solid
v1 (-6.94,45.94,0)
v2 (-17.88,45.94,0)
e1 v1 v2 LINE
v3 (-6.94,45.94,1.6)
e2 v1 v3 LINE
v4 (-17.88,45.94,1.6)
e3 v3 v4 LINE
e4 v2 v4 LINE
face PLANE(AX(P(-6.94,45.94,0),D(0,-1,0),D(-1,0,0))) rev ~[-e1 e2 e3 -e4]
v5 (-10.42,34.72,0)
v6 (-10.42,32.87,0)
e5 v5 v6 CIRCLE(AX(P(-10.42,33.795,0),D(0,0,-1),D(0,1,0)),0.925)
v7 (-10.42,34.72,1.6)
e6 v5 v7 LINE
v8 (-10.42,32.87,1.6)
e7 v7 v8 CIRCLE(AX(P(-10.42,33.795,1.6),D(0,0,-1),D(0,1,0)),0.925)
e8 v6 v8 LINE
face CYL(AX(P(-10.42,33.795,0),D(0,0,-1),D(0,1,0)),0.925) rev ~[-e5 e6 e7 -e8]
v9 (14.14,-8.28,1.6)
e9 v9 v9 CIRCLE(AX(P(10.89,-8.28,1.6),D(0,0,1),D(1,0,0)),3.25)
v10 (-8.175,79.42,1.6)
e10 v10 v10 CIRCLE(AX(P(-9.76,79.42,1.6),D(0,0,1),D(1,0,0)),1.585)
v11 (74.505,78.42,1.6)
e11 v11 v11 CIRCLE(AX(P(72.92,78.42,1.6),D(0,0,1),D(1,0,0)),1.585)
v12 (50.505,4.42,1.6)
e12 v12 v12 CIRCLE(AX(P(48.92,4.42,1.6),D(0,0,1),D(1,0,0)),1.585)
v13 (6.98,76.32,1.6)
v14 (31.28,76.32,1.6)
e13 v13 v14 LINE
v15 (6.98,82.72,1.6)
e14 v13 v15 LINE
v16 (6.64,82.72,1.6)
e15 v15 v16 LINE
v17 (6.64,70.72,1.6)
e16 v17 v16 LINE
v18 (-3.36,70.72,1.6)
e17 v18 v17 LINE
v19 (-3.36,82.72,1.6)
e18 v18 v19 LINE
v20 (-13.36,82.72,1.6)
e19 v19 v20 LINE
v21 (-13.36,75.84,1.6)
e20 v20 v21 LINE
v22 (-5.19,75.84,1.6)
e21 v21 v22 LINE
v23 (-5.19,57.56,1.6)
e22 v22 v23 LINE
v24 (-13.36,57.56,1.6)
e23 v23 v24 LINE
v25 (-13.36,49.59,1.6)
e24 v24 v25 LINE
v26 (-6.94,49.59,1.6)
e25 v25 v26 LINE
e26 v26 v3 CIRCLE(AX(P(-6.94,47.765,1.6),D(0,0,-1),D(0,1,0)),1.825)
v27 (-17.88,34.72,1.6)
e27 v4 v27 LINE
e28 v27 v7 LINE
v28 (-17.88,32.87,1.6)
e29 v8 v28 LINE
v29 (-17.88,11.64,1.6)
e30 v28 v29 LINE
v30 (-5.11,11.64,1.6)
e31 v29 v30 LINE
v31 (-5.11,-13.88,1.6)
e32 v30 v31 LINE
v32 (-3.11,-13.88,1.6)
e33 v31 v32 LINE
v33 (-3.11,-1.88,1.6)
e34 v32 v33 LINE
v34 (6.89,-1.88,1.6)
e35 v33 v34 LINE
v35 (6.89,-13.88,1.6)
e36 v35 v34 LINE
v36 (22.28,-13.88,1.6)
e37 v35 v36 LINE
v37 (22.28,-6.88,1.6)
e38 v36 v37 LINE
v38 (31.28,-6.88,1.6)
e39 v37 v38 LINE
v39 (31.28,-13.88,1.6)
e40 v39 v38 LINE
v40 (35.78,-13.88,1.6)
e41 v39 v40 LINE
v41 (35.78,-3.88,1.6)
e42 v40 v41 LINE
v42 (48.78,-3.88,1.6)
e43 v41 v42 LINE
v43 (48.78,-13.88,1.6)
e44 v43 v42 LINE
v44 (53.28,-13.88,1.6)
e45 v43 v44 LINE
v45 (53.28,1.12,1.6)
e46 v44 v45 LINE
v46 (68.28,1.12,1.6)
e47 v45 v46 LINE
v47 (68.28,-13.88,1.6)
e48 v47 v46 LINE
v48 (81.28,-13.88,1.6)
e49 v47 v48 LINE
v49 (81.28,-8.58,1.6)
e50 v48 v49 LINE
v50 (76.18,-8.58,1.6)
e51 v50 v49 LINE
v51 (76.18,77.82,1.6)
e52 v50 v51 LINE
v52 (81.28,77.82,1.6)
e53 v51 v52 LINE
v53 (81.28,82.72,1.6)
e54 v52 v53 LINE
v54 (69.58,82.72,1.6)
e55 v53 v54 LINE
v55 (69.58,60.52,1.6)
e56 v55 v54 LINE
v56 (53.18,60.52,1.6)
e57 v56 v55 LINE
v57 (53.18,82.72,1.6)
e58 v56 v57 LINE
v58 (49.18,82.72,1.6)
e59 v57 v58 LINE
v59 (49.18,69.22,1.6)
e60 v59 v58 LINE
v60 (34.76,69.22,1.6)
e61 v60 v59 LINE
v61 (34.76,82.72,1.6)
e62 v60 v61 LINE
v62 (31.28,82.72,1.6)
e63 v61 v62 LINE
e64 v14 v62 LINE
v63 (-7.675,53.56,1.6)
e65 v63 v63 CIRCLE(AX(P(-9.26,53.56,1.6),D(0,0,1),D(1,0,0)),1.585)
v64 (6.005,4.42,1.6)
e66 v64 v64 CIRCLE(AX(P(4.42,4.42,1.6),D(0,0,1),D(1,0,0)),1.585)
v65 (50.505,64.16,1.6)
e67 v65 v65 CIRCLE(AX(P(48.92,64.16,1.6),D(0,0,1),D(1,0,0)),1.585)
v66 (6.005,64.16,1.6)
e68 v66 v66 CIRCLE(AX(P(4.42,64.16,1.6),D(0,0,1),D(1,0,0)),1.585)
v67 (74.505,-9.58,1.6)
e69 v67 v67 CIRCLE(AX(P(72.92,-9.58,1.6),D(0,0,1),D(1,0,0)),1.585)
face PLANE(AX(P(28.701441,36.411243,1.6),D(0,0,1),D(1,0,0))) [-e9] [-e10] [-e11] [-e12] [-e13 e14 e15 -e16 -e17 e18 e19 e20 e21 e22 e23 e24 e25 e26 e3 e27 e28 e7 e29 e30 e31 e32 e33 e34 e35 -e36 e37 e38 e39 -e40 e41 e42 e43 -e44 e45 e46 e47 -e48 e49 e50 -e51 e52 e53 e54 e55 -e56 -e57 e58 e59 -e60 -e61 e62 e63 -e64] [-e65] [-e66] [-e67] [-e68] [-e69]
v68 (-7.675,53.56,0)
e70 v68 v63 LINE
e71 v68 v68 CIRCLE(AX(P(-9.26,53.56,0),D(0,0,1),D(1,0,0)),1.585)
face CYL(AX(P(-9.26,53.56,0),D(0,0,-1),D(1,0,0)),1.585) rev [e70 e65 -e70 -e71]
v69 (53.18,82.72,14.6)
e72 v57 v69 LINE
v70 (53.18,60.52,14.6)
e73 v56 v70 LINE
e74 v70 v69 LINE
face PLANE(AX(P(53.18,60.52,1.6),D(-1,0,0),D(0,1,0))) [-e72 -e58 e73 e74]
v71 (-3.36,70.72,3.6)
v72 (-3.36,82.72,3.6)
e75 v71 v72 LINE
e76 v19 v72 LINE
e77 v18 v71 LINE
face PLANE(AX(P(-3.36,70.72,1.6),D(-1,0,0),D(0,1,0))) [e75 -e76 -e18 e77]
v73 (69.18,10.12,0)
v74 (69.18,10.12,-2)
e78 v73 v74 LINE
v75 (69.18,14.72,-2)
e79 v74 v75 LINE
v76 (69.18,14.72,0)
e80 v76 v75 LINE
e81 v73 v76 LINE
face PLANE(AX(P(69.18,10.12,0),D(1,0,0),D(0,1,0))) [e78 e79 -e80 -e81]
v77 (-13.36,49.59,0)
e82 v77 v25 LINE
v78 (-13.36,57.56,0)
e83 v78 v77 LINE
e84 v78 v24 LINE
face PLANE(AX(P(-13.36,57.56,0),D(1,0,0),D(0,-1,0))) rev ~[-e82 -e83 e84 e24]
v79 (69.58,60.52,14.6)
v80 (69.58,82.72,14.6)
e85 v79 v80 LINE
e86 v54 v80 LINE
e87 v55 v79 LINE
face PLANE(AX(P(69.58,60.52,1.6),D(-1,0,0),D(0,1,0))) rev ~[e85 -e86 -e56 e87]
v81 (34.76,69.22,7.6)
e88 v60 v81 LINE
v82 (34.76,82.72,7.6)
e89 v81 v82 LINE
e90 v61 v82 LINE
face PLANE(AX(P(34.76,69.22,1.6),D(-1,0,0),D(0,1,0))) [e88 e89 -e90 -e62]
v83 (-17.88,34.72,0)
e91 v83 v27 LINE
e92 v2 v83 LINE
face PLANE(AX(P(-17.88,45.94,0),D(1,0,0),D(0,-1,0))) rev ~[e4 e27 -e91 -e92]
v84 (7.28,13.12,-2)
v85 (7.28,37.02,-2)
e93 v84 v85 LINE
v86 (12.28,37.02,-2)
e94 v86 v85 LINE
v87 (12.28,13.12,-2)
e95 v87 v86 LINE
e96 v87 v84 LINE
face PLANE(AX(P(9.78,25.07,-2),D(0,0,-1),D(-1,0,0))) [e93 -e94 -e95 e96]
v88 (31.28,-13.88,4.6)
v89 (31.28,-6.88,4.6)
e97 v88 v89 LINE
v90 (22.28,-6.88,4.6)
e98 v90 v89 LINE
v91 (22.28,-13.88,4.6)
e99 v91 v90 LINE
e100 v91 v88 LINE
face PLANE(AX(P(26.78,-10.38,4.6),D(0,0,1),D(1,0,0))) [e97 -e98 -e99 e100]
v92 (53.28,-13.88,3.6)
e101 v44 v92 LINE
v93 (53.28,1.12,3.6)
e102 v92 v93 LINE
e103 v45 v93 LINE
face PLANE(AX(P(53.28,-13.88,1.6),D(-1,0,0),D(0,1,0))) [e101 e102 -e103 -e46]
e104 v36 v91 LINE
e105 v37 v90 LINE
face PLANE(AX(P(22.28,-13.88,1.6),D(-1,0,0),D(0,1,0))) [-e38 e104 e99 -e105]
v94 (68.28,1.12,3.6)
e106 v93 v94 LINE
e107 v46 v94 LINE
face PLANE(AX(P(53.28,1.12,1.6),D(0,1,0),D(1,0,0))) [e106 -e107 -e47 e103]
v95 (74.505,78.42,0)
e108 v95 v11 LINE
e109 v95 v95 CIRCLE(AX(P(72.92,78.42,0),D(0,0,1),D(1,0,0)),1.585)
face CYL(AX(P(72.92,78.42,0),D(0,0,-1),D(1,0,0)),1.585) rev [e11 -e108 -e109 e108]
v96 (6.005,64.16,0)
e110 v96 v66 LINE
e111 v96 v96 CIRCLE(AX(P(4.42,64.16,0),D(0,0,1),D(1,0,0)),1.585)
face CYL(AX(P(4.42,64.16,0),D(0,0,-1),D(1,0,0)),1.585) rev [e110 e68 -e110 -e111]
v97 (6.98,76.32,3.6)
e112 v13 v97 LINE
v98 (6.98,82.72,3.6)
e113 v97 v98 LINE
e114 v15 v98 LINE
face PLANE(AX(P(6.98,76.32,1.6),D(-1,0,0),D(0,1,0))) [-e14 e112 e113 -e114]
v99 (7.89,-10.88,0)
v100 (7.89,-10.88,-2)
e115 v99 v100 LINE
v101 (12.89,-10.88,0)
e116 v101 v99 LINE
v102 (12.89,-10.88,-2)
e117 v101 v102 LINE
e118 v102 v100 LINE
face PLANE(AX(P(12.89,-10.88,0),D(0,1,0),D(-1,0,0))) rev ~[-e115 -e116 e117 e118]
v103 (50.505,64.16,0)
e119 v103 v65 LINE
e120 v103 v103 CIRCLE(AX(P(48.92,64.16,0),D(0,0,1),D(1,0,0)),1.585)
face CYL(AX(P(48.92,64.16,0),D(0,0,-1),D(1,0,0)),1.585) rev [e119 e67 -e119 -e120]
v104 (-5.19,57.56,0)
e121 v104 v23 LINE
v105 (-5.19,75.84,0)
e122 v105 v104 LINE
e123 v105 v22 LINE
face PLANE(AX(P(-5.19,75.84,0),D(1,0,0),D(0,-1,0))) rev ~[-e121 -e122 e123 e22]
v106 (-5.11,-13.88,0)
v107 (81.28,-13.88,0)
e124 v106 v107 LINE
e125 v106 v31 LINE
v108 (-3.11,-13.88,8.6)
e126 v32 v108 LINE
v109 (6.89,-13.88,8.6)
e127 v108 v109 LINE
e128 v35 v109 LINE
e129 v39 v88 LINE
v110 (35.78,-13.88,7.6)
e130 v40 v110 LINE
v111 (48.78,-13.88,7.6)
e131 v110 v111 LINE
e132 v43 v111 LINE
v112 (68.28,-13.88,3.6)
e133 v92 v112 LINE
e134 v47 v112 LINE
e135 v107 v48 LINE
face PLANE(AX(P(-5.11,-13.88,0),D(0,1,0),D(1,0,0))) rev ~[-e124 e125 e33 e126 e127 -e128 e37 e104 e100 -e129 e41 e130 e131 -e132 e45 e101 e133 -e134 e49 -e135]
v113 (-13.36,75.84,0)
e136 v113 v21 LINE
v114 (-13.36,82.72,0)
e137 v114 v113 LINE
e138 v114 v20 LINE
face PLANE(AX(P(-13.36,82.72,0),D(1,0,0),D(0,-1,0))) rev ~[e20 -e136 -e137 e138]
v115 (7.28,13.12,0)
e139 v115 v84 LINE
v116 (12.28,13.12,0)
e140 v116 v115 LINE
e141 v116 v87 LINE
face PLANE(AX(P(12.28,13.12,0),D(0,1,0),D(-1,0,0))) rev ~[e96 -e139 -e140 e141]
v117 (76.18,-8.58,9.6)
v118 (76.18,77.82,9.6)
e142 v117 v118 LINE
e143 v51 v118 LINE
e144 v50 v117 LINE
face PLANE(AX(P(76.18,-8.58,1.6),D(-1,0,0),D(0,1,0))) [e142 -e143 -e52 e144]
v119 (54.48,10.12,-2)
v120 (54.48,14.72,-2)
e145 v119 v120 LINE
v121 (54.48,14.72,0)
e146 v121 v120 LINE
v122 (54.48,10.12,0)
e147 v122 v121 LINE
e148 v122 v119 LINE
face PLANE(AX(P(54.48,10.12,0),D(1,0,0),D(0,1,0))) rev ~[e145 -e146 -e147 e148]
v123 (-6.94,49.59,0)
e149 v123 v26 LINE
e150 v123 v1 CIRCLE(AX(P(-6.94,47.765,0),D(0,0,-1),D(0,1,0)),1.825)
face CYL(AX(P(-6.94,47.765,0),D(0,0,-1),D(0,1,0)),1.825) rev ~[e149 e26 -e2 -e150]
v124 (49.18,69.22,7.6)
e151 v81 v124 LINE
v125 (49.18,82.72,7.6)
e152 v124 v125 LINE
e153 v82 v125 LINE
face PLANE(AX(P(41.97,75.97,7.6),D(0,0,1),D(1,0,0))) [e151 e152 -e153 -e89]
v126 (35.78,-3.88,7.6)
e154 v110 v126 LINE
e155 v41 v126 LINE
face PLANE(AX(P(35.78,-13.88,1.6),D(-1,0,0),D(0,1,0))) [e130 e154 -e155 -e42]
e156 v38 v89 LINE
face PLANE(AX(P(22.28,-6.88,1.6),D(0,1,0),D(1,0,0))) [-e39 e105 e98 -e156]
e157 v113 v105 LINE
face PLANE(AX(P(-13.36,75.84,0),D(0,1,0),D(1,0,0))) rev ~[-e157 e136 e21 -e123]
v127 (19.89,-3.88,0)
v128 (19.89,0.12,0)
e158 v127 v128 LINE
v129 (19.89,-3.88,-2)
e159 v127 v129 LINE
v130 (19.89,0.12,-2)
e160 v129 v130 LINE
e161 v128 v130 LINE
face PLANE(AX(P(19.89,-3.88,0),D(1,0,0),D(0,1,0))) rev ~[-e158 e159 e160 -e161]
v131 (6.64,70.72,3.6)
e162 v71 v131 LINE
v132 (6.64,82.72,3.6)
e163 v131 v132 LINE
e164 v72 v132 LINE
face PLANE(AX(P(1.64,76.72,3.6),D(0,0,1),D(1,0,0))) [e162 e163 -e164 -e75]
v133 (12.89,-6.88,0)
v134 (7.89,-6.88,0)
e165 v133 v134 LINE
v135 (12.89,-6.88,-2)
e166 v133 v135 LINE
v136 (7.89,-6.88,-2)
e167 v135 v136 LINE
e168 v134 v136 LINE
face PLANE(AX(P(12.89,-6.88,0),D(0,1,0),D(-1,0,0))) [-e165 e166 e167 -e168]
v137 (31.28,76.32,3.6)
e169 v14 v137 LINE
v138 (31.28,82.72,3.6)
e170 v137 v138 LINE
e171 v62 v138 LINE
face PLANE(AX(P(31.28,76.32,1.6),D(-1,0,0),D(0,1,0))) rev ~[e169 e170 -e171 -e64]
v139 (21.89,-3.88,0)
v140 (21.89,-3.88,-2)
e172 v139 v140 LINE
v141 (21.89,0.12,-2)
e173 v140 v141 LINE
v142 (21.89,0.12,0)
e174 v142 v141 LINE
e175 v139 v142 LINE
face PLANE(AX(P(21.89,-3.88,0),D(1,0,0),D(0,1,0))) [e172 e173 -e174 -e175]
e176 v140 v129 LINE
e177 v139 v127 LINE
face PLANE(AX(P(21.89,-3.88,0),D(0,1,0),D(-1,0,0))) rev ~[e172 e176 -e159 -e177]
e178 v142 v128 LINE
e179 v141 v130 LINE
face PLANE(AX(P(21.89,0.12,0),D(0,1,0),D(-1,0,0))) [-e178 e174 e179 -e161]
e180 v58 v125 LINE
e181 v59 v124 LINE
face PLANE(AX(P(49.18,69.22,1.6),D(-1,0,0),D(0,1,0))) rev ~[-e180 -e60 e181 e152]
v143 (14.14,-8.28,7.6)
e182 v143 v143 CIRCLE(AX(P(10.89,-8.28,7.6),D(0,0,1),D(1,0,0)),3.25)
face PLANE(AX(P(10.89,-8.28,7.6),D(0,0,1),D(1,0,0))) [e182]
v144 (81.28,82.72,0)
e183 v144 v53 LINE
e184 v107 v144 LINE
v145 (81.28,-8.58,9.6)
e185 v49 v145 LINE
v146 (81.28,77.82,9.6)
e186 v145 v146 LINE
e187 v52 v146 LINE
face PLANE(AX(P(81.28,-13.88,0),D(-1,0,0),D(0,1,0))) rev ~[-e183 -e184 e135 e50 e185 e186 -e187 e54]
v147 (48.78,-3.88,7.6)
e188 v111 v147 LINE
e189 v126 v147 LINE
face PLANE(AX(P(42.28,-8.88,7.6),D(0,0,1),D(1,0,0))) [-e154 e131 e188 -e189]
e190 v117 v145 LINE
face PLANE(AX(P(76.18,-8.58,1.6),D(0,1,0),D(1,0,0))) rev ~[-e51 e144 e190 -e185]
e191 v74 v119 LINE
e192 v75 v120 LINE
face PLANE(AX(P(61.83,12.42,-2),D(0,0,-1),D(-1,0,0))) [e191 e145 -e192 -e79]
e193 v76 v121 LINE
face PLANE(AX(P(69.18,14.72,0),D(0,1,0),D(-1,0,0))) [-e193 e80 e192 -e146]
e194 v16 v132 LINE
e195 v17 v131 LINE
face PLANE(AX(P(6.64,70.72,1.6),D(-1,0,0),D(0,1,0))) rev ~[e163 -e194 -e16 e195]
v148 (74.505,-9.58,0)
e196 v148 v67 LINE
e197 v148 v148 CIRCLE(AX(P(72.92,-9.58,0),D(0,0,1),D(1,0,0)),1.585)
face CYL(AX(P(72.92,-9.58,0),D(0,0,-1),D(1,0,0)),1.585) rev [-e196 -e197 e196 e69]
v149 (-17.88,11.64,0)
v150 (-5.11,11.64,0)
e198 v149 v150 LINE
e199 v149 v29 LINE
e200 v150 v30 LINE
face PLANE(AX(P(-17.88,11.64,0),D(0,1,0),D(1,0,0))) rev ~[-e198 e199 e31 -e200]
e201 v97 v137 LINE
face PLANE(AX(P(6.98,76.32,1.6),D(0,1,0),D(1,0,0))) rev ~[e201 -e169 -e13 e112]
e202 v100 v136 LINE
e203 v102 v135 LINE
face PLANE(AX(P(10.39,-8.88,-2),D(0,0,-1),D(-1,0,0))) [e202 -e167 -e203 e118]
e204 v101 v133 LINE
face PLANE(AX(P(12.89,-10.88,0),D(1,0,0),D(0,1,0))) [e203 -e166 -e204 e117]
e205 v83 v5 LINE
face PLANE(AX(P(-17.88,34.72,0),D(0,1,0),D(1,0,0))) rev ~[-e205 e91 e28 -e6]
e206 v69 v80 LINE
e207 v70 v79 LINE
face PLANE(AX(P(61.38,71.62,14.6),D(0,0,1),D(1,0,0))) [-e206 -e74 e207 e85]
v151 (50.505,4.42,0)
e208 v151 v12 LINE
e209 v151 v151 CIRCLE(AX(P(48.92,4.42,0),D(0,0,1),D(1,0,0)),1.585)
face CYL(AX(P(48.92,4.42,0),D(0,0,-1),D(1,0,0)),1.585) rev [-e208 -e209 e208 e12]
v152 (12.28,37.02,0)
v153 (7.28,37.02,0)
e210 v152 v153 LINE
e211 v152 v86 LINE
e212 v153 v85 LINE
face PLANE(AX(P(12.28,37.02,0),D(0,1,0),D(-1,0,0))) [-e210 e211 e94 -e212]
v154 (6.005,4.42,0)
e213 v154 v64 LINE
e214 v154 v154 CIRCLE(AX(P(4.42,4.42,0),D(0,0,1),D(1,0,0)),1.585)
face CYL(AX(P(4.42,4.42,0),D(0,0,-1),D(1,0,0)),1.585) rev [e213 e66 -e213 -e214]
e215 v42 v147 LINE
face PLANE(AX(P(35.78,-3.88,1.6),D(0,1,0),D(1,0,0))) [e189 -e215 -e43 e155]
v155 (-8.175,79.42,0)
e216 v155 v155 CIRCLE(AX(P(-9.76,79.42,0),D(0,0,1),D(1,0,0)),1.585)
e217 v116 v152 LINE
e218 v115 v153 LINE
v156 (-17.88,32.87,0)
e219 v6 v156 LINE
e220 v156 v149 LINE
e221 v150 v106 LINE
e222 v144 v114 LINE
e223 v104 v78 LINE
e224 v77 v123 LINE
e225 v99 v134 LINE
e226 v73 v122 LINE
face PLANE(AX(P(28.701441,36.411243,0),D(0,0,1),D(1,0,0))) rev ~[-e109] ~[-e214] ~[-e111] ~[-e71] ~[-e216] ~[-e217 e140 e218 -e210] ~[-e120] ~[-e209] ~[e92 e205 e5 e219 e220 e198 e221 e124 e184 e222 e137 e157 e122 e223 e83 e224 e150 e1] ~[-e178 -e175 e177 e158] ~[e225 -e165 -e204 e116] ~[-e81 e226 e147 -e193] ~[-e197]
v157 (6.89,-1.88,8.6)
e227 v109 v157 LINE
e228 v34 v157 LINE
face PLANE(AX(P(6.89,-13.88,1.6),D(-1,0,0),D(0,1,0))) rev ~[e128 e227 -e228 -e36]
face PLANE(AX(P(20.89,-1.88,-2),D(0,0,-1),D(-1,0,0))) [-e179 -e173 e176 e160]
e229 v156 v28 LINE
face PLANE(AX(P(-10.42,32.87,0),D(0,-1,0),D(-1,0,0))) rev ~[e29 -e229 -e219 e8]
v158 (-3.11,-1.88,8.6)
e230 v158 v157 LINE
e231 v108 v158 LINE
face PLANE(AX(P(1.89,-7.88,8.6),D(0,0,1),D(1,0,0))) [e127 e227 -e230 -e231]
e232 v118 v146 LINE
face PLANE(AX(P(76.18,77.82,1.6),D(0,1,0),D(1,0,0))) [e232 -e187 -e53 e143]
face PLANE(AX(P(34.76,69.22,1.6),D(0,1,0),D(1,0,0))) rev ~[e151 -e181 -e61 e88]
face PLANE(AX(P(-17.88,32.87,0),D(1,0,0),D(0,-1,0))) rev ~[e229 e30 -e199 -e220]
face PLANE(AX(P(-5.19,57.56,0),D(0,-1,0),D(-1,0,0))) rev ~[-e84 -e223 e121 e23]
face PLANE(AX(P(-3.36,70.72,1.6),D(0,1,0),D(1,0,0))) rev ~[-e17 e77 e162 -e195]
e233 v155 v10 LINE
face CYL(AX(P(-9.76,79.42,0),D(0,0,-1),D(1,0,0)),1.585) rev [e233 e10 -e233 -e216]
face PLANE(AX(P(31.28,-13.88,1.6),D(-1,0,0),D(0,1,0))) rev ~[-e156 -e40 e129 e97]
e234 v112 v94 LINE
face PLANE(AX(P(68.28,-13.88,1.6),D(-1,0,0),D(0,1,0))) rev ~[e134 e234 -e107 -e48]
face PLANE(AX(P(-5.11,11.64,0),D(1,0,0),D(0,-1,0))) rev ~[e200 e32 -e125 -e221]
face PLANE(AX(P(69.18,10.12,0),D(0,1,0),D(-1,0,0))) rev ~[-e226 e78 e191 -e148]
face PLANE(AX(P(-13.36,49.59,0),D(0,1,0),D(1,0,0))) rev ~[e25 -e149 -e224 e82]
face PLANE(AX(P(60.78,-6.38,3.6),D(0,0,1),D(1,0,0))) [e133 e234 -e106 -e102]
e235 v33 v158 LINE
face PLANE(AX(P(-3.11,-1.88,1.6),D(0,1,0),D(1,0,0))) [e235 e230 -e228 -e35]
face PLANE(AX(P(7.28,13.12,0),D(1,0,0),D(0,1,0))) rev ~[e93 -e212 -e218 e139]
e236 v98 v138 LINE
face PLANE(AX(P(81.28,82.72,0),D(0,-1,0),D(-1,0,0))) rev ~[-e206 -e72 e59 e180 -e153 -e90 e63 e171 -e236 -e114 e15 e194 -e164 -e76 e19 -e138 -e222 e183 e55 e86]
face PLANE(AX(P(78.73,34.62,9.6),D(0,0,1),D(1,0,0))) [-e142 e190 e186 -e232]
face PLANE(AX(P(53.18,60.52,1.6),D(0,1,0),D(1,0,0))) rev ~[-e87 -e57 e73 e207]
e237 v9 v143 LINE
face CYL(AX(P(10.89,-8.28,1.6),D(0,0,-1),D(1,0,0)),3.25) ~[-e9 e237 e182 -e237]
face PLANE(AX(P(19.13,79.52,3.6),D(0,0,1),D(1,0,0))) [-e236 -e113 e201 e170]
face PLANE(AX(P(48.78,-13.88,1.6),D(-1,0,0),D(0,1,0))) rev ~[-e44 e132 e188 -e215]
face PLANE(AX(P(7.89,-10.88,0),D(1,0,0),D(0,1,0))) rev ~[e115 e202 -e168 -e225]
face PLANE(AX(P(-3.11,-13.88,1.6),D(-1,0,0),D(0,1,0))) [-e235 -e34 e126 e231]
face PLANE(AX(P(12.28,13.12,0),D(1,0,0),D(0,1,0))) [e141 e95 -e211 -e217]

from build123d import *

# Parameters (mm, degrees)
SKETCH_1_R       = 1.585
EXTRUDE_1_DEPTH  = 1.6
SKETCH_2_W       = 5.1
SKETCH_2_H       = 86.4
EXTRUDE_2_DEPTH  = 8
SKETCH_3_W       = 16.4
SKETCH_3_H       = 22.2
EXTRUDE_3_DEPTH  = 13
SKETCH_4_W       = 14.42
SKETCH_4_H       = 13.5
EXTRUDE_4_DEPTH  = 6
SKETCH_5_W       = 24.3
SKETCH_5_H       = 6.4
EXTRUDE_5_DEPTH  = 2
SKETCH_6_W       = 10
SKETCH_6_H       = 12
EXTRUDE_6_DEPTH  = 2
SKETCH_7_W       = 15
SKETCH_7_H       = 15
EXTRUDE_7_DEPTH  = 2
SKETCH_8_W       = 13
SKETCH_8_H       = 10
EXTRUDE_8_DEPTH  = 6
SKETCH_9_W       = 9
SKETCH_9_H       = 7
EXTRUDE_9_DEPTH  = 3
SKETCH_10_W      = 10
SKETCH_10_H      = 12
EXTRUDE_10_DEPTH = 7
SKETCH_11_R      = 3.25
EXTRUDE_11_DEPTH = 6
SKETCH_12_W      = 14.7
SKETCH_12_H      = 4.6
SKETCH_12_W_2    = 5
SKETCH_12_H_2    = 23.9
EXTRUDE_12_DEPTH = 2
SKETCH_14_W      = 5
SKETCH_14_H      = 4
SKETCH_14_W_2    = 2
EXTRUDE_13_DEPTH = 2


with BuildPart() as part:
    # 草图1 → 凸台-拉伸1 (new body)
    with BuildSketch(Plane.XY):
        with BuildLine():
            Line((81.28, 82.72), (-13.36, 82.72))
            Line((-13.36, 82.72), (-13.36, 75.84))
            Line((-13.36, 75.84), (-5.19, 75.84))
            Line((-5.19, 75.84), (-5.19, 57.56))
            Line((-5.19, 57.56), (-13.36, 57.56))
            Line((-13.36, 57.56), (-13.36, 49.59))
            Line((-13.36, 49.59), (-6.94, 49.59))
            ThreePointArc((-6.94, 49.59), (-5.115, 47.765), (-6.94, 45.94))
            Line((-6.94, 45.94), (-17.88, 45.94))
            Line((-17.88, 45.94), (-17.88, 34.72))
            Line((-17.88, 34.72), (-10.42, 34.72))
            ThreePointArc((-10.42, 34.72), (-9.495, 33.795), (-10.42, 32.87))
            Line((-10.42, 32.87), (-17.88, 32.87))
            Line((-17.88, 32.87), (-17.88, 11.64))
            Line((-17.88, 11.64), (-5.11, 11.64))
            Line((-5.11, 11.64), (-5.11, -13.88))
            Line((-5.11, -13.88), (81.28, -13.88))
            Line((81.28, -13.88), (81.28, 82.72))
        make_face()
        with Locations((48.92, 64.16)):
            Circle(SKETCH_1_R, mode=Mode.SUBTRACT)
        with Locations((4.42, 64.16)):
            Circle(SKETCH_1_R, mode=Mode.SUBTRACT)
        with Locations((4.42, 4.42)):
            Circle(SKETCH_1_R, mode=Mode.SUBTRACT)
        with Locations((48.92, 4.42)):
            Circle(SKETCH_1_R, mode=Mode.SUBTRACT)
        with Locations((72.92, -9.58)):
            Circle(SKETCH_1_R, mode=Mode.SUBTRACT)
        with Locations((72.92, 78.42)):
            Circle(SKETCH_1_R, mode=Mode.SUBTRACT)
        with Locations((-9.76, 79.42)):
            Circle(SKETCH_1_R, mode=Mode.SUBTRACT)
        with Locations((-9.26, 53.56)):
            Circle(SKETCH_1_R, mode=Mode.SUBTRACT)
    extrude(amount=EXTRUDE_1_DEPTH)

    # 草图2 → 凸台-拉伸2 (add)
    with BuildSketch(Plane.XY.offset(1.6)):
        with Locations((78.73, 34.62)):
            Rectangle(SKETCH_2_W, SKETCH_2_H)
    extrude(amount=EXTRUDE_2_DEPTH)

    # 草图3 → 凸台-拉伸3 (add)
    with BuildSketch(Plane.XY.offset(1.6)):
        with Locations((61.38, 71.62)):
            Rectangle(SKETCH_3_W, SKETCH_3_H)
    extrude(amount=EXTRUDE_3_DEPTH)

    # 草图4 → 凸台-拉伸4 (add)
    with BuildSketch(Plane.XY.offset(1.6)):
        with Locations((41.97, 75.97)):
            Rectangle(SKETCH_4_W, SKETCH_4_H)
    extrude(amount=EXTRUDE_4_DEPTH)

    # 草图5 → 凸台-拉伸5 (add)
    with BuildSketch(Plane.XY.offset(1.6)):
        with Locations((19.13, 79.52)):
            Rectangle(SKETCH_5_W, SKETCH_5_H)
    extrude(amount=EXTRUDE_5_DEPTH)

    # 草图6 → 凸台-拉伸6 (add)
    with BuildSketch(Plane.XY.offset(1.6)):
        with Locations((1.64, 76.72)):
            Rectangle(SKETCH_6_W, SKETCH_6_H)
    extrude(amount=EXTRUDE_6_DEPTH)

    # 草图7 → 凸台-拉伸7 (add)
    with BuildSketch(Plane.XY.offset(1.6)):
        with Locations((60.78, -6.38)):
            Rectangle(SKETCH_7_W, SKETCH_7_H)
    extrude(amount=EXTRUDE_7_DEPTH)

    # 草图8 → 凸台-拉伸8 (add)
    with BuildSketch(Plane.XY.offset(1.6)):
        with Locations((42.28, -8.88)):
            Rectangle(SKETCH_8_W, SKETCH_8_H)
    extrude(amount=EXTRUDE_8_DEPTH)

    # 草图9 → 凸台-拉伸9 (add)
    with BuildSketch(Plane.XY.offset(1.6)):
        with Locations((26.78, -10.38)):
            Rectangle(SKETCH_9_W, SKETCH_9_H)
    extrude(amount=EXTRUDE_9_DEPTH)

    # 草图10 → 凸台-拉伸10 (add)
    with BuildSketch(Plane.XY.offset(1.6)):
        with Locations((1.89, -7.88)):
            Rectangle(SKETCH_10_W, SKETCH_10_H)
    extrude(amount=EXTRUDE_10_DEPTH)

    # 草图11 → 凸台-拉伸11 (add)
    with BuildSketch(Plane.XY.offset(1.6)):
        with Locations((10.89, -8.28)):
            Circle(SKETCH_11_R)
    extrude(amount=EXTRUDE_11_DEPTH)

    # 草图12 → 凸台-拉伸12 (add)
    with BuildSketch(Plane(origin=(0, 0, 0), x_dir=(-1, 0, 0), z_dir=(0, 0, -1))):
        with Locations((-61.83, 12.42)):
            Rectangle(SKETCH_12_W, SKETCH_12_H)
        with Locations((-9.78, 25.07)):
            Rectangle(SKETCH_12_W_2, SKETCH_12_H_2)
    extrude(amount=EXTRUDE_12_DEPTH)

    # 草图14 → 凸台-拉伸13 (add)
    with BuildSketch(Plane(origin=(0, 0, 0), x_dir=(-1, 0, 0), z_dir=(0, 0, -1))):
        with Locations((-10.39, -8.88)):
            Rectangle(SKETCH_14_W, SKETCH_14_H)
        with Locations((-20.89, -1.88)):
            Rectangle(SKETCH_14_W_2, SKETCH_14_H)
    extrude(amount=EXTRUDE_13_DEPTH)


solid = part.part
